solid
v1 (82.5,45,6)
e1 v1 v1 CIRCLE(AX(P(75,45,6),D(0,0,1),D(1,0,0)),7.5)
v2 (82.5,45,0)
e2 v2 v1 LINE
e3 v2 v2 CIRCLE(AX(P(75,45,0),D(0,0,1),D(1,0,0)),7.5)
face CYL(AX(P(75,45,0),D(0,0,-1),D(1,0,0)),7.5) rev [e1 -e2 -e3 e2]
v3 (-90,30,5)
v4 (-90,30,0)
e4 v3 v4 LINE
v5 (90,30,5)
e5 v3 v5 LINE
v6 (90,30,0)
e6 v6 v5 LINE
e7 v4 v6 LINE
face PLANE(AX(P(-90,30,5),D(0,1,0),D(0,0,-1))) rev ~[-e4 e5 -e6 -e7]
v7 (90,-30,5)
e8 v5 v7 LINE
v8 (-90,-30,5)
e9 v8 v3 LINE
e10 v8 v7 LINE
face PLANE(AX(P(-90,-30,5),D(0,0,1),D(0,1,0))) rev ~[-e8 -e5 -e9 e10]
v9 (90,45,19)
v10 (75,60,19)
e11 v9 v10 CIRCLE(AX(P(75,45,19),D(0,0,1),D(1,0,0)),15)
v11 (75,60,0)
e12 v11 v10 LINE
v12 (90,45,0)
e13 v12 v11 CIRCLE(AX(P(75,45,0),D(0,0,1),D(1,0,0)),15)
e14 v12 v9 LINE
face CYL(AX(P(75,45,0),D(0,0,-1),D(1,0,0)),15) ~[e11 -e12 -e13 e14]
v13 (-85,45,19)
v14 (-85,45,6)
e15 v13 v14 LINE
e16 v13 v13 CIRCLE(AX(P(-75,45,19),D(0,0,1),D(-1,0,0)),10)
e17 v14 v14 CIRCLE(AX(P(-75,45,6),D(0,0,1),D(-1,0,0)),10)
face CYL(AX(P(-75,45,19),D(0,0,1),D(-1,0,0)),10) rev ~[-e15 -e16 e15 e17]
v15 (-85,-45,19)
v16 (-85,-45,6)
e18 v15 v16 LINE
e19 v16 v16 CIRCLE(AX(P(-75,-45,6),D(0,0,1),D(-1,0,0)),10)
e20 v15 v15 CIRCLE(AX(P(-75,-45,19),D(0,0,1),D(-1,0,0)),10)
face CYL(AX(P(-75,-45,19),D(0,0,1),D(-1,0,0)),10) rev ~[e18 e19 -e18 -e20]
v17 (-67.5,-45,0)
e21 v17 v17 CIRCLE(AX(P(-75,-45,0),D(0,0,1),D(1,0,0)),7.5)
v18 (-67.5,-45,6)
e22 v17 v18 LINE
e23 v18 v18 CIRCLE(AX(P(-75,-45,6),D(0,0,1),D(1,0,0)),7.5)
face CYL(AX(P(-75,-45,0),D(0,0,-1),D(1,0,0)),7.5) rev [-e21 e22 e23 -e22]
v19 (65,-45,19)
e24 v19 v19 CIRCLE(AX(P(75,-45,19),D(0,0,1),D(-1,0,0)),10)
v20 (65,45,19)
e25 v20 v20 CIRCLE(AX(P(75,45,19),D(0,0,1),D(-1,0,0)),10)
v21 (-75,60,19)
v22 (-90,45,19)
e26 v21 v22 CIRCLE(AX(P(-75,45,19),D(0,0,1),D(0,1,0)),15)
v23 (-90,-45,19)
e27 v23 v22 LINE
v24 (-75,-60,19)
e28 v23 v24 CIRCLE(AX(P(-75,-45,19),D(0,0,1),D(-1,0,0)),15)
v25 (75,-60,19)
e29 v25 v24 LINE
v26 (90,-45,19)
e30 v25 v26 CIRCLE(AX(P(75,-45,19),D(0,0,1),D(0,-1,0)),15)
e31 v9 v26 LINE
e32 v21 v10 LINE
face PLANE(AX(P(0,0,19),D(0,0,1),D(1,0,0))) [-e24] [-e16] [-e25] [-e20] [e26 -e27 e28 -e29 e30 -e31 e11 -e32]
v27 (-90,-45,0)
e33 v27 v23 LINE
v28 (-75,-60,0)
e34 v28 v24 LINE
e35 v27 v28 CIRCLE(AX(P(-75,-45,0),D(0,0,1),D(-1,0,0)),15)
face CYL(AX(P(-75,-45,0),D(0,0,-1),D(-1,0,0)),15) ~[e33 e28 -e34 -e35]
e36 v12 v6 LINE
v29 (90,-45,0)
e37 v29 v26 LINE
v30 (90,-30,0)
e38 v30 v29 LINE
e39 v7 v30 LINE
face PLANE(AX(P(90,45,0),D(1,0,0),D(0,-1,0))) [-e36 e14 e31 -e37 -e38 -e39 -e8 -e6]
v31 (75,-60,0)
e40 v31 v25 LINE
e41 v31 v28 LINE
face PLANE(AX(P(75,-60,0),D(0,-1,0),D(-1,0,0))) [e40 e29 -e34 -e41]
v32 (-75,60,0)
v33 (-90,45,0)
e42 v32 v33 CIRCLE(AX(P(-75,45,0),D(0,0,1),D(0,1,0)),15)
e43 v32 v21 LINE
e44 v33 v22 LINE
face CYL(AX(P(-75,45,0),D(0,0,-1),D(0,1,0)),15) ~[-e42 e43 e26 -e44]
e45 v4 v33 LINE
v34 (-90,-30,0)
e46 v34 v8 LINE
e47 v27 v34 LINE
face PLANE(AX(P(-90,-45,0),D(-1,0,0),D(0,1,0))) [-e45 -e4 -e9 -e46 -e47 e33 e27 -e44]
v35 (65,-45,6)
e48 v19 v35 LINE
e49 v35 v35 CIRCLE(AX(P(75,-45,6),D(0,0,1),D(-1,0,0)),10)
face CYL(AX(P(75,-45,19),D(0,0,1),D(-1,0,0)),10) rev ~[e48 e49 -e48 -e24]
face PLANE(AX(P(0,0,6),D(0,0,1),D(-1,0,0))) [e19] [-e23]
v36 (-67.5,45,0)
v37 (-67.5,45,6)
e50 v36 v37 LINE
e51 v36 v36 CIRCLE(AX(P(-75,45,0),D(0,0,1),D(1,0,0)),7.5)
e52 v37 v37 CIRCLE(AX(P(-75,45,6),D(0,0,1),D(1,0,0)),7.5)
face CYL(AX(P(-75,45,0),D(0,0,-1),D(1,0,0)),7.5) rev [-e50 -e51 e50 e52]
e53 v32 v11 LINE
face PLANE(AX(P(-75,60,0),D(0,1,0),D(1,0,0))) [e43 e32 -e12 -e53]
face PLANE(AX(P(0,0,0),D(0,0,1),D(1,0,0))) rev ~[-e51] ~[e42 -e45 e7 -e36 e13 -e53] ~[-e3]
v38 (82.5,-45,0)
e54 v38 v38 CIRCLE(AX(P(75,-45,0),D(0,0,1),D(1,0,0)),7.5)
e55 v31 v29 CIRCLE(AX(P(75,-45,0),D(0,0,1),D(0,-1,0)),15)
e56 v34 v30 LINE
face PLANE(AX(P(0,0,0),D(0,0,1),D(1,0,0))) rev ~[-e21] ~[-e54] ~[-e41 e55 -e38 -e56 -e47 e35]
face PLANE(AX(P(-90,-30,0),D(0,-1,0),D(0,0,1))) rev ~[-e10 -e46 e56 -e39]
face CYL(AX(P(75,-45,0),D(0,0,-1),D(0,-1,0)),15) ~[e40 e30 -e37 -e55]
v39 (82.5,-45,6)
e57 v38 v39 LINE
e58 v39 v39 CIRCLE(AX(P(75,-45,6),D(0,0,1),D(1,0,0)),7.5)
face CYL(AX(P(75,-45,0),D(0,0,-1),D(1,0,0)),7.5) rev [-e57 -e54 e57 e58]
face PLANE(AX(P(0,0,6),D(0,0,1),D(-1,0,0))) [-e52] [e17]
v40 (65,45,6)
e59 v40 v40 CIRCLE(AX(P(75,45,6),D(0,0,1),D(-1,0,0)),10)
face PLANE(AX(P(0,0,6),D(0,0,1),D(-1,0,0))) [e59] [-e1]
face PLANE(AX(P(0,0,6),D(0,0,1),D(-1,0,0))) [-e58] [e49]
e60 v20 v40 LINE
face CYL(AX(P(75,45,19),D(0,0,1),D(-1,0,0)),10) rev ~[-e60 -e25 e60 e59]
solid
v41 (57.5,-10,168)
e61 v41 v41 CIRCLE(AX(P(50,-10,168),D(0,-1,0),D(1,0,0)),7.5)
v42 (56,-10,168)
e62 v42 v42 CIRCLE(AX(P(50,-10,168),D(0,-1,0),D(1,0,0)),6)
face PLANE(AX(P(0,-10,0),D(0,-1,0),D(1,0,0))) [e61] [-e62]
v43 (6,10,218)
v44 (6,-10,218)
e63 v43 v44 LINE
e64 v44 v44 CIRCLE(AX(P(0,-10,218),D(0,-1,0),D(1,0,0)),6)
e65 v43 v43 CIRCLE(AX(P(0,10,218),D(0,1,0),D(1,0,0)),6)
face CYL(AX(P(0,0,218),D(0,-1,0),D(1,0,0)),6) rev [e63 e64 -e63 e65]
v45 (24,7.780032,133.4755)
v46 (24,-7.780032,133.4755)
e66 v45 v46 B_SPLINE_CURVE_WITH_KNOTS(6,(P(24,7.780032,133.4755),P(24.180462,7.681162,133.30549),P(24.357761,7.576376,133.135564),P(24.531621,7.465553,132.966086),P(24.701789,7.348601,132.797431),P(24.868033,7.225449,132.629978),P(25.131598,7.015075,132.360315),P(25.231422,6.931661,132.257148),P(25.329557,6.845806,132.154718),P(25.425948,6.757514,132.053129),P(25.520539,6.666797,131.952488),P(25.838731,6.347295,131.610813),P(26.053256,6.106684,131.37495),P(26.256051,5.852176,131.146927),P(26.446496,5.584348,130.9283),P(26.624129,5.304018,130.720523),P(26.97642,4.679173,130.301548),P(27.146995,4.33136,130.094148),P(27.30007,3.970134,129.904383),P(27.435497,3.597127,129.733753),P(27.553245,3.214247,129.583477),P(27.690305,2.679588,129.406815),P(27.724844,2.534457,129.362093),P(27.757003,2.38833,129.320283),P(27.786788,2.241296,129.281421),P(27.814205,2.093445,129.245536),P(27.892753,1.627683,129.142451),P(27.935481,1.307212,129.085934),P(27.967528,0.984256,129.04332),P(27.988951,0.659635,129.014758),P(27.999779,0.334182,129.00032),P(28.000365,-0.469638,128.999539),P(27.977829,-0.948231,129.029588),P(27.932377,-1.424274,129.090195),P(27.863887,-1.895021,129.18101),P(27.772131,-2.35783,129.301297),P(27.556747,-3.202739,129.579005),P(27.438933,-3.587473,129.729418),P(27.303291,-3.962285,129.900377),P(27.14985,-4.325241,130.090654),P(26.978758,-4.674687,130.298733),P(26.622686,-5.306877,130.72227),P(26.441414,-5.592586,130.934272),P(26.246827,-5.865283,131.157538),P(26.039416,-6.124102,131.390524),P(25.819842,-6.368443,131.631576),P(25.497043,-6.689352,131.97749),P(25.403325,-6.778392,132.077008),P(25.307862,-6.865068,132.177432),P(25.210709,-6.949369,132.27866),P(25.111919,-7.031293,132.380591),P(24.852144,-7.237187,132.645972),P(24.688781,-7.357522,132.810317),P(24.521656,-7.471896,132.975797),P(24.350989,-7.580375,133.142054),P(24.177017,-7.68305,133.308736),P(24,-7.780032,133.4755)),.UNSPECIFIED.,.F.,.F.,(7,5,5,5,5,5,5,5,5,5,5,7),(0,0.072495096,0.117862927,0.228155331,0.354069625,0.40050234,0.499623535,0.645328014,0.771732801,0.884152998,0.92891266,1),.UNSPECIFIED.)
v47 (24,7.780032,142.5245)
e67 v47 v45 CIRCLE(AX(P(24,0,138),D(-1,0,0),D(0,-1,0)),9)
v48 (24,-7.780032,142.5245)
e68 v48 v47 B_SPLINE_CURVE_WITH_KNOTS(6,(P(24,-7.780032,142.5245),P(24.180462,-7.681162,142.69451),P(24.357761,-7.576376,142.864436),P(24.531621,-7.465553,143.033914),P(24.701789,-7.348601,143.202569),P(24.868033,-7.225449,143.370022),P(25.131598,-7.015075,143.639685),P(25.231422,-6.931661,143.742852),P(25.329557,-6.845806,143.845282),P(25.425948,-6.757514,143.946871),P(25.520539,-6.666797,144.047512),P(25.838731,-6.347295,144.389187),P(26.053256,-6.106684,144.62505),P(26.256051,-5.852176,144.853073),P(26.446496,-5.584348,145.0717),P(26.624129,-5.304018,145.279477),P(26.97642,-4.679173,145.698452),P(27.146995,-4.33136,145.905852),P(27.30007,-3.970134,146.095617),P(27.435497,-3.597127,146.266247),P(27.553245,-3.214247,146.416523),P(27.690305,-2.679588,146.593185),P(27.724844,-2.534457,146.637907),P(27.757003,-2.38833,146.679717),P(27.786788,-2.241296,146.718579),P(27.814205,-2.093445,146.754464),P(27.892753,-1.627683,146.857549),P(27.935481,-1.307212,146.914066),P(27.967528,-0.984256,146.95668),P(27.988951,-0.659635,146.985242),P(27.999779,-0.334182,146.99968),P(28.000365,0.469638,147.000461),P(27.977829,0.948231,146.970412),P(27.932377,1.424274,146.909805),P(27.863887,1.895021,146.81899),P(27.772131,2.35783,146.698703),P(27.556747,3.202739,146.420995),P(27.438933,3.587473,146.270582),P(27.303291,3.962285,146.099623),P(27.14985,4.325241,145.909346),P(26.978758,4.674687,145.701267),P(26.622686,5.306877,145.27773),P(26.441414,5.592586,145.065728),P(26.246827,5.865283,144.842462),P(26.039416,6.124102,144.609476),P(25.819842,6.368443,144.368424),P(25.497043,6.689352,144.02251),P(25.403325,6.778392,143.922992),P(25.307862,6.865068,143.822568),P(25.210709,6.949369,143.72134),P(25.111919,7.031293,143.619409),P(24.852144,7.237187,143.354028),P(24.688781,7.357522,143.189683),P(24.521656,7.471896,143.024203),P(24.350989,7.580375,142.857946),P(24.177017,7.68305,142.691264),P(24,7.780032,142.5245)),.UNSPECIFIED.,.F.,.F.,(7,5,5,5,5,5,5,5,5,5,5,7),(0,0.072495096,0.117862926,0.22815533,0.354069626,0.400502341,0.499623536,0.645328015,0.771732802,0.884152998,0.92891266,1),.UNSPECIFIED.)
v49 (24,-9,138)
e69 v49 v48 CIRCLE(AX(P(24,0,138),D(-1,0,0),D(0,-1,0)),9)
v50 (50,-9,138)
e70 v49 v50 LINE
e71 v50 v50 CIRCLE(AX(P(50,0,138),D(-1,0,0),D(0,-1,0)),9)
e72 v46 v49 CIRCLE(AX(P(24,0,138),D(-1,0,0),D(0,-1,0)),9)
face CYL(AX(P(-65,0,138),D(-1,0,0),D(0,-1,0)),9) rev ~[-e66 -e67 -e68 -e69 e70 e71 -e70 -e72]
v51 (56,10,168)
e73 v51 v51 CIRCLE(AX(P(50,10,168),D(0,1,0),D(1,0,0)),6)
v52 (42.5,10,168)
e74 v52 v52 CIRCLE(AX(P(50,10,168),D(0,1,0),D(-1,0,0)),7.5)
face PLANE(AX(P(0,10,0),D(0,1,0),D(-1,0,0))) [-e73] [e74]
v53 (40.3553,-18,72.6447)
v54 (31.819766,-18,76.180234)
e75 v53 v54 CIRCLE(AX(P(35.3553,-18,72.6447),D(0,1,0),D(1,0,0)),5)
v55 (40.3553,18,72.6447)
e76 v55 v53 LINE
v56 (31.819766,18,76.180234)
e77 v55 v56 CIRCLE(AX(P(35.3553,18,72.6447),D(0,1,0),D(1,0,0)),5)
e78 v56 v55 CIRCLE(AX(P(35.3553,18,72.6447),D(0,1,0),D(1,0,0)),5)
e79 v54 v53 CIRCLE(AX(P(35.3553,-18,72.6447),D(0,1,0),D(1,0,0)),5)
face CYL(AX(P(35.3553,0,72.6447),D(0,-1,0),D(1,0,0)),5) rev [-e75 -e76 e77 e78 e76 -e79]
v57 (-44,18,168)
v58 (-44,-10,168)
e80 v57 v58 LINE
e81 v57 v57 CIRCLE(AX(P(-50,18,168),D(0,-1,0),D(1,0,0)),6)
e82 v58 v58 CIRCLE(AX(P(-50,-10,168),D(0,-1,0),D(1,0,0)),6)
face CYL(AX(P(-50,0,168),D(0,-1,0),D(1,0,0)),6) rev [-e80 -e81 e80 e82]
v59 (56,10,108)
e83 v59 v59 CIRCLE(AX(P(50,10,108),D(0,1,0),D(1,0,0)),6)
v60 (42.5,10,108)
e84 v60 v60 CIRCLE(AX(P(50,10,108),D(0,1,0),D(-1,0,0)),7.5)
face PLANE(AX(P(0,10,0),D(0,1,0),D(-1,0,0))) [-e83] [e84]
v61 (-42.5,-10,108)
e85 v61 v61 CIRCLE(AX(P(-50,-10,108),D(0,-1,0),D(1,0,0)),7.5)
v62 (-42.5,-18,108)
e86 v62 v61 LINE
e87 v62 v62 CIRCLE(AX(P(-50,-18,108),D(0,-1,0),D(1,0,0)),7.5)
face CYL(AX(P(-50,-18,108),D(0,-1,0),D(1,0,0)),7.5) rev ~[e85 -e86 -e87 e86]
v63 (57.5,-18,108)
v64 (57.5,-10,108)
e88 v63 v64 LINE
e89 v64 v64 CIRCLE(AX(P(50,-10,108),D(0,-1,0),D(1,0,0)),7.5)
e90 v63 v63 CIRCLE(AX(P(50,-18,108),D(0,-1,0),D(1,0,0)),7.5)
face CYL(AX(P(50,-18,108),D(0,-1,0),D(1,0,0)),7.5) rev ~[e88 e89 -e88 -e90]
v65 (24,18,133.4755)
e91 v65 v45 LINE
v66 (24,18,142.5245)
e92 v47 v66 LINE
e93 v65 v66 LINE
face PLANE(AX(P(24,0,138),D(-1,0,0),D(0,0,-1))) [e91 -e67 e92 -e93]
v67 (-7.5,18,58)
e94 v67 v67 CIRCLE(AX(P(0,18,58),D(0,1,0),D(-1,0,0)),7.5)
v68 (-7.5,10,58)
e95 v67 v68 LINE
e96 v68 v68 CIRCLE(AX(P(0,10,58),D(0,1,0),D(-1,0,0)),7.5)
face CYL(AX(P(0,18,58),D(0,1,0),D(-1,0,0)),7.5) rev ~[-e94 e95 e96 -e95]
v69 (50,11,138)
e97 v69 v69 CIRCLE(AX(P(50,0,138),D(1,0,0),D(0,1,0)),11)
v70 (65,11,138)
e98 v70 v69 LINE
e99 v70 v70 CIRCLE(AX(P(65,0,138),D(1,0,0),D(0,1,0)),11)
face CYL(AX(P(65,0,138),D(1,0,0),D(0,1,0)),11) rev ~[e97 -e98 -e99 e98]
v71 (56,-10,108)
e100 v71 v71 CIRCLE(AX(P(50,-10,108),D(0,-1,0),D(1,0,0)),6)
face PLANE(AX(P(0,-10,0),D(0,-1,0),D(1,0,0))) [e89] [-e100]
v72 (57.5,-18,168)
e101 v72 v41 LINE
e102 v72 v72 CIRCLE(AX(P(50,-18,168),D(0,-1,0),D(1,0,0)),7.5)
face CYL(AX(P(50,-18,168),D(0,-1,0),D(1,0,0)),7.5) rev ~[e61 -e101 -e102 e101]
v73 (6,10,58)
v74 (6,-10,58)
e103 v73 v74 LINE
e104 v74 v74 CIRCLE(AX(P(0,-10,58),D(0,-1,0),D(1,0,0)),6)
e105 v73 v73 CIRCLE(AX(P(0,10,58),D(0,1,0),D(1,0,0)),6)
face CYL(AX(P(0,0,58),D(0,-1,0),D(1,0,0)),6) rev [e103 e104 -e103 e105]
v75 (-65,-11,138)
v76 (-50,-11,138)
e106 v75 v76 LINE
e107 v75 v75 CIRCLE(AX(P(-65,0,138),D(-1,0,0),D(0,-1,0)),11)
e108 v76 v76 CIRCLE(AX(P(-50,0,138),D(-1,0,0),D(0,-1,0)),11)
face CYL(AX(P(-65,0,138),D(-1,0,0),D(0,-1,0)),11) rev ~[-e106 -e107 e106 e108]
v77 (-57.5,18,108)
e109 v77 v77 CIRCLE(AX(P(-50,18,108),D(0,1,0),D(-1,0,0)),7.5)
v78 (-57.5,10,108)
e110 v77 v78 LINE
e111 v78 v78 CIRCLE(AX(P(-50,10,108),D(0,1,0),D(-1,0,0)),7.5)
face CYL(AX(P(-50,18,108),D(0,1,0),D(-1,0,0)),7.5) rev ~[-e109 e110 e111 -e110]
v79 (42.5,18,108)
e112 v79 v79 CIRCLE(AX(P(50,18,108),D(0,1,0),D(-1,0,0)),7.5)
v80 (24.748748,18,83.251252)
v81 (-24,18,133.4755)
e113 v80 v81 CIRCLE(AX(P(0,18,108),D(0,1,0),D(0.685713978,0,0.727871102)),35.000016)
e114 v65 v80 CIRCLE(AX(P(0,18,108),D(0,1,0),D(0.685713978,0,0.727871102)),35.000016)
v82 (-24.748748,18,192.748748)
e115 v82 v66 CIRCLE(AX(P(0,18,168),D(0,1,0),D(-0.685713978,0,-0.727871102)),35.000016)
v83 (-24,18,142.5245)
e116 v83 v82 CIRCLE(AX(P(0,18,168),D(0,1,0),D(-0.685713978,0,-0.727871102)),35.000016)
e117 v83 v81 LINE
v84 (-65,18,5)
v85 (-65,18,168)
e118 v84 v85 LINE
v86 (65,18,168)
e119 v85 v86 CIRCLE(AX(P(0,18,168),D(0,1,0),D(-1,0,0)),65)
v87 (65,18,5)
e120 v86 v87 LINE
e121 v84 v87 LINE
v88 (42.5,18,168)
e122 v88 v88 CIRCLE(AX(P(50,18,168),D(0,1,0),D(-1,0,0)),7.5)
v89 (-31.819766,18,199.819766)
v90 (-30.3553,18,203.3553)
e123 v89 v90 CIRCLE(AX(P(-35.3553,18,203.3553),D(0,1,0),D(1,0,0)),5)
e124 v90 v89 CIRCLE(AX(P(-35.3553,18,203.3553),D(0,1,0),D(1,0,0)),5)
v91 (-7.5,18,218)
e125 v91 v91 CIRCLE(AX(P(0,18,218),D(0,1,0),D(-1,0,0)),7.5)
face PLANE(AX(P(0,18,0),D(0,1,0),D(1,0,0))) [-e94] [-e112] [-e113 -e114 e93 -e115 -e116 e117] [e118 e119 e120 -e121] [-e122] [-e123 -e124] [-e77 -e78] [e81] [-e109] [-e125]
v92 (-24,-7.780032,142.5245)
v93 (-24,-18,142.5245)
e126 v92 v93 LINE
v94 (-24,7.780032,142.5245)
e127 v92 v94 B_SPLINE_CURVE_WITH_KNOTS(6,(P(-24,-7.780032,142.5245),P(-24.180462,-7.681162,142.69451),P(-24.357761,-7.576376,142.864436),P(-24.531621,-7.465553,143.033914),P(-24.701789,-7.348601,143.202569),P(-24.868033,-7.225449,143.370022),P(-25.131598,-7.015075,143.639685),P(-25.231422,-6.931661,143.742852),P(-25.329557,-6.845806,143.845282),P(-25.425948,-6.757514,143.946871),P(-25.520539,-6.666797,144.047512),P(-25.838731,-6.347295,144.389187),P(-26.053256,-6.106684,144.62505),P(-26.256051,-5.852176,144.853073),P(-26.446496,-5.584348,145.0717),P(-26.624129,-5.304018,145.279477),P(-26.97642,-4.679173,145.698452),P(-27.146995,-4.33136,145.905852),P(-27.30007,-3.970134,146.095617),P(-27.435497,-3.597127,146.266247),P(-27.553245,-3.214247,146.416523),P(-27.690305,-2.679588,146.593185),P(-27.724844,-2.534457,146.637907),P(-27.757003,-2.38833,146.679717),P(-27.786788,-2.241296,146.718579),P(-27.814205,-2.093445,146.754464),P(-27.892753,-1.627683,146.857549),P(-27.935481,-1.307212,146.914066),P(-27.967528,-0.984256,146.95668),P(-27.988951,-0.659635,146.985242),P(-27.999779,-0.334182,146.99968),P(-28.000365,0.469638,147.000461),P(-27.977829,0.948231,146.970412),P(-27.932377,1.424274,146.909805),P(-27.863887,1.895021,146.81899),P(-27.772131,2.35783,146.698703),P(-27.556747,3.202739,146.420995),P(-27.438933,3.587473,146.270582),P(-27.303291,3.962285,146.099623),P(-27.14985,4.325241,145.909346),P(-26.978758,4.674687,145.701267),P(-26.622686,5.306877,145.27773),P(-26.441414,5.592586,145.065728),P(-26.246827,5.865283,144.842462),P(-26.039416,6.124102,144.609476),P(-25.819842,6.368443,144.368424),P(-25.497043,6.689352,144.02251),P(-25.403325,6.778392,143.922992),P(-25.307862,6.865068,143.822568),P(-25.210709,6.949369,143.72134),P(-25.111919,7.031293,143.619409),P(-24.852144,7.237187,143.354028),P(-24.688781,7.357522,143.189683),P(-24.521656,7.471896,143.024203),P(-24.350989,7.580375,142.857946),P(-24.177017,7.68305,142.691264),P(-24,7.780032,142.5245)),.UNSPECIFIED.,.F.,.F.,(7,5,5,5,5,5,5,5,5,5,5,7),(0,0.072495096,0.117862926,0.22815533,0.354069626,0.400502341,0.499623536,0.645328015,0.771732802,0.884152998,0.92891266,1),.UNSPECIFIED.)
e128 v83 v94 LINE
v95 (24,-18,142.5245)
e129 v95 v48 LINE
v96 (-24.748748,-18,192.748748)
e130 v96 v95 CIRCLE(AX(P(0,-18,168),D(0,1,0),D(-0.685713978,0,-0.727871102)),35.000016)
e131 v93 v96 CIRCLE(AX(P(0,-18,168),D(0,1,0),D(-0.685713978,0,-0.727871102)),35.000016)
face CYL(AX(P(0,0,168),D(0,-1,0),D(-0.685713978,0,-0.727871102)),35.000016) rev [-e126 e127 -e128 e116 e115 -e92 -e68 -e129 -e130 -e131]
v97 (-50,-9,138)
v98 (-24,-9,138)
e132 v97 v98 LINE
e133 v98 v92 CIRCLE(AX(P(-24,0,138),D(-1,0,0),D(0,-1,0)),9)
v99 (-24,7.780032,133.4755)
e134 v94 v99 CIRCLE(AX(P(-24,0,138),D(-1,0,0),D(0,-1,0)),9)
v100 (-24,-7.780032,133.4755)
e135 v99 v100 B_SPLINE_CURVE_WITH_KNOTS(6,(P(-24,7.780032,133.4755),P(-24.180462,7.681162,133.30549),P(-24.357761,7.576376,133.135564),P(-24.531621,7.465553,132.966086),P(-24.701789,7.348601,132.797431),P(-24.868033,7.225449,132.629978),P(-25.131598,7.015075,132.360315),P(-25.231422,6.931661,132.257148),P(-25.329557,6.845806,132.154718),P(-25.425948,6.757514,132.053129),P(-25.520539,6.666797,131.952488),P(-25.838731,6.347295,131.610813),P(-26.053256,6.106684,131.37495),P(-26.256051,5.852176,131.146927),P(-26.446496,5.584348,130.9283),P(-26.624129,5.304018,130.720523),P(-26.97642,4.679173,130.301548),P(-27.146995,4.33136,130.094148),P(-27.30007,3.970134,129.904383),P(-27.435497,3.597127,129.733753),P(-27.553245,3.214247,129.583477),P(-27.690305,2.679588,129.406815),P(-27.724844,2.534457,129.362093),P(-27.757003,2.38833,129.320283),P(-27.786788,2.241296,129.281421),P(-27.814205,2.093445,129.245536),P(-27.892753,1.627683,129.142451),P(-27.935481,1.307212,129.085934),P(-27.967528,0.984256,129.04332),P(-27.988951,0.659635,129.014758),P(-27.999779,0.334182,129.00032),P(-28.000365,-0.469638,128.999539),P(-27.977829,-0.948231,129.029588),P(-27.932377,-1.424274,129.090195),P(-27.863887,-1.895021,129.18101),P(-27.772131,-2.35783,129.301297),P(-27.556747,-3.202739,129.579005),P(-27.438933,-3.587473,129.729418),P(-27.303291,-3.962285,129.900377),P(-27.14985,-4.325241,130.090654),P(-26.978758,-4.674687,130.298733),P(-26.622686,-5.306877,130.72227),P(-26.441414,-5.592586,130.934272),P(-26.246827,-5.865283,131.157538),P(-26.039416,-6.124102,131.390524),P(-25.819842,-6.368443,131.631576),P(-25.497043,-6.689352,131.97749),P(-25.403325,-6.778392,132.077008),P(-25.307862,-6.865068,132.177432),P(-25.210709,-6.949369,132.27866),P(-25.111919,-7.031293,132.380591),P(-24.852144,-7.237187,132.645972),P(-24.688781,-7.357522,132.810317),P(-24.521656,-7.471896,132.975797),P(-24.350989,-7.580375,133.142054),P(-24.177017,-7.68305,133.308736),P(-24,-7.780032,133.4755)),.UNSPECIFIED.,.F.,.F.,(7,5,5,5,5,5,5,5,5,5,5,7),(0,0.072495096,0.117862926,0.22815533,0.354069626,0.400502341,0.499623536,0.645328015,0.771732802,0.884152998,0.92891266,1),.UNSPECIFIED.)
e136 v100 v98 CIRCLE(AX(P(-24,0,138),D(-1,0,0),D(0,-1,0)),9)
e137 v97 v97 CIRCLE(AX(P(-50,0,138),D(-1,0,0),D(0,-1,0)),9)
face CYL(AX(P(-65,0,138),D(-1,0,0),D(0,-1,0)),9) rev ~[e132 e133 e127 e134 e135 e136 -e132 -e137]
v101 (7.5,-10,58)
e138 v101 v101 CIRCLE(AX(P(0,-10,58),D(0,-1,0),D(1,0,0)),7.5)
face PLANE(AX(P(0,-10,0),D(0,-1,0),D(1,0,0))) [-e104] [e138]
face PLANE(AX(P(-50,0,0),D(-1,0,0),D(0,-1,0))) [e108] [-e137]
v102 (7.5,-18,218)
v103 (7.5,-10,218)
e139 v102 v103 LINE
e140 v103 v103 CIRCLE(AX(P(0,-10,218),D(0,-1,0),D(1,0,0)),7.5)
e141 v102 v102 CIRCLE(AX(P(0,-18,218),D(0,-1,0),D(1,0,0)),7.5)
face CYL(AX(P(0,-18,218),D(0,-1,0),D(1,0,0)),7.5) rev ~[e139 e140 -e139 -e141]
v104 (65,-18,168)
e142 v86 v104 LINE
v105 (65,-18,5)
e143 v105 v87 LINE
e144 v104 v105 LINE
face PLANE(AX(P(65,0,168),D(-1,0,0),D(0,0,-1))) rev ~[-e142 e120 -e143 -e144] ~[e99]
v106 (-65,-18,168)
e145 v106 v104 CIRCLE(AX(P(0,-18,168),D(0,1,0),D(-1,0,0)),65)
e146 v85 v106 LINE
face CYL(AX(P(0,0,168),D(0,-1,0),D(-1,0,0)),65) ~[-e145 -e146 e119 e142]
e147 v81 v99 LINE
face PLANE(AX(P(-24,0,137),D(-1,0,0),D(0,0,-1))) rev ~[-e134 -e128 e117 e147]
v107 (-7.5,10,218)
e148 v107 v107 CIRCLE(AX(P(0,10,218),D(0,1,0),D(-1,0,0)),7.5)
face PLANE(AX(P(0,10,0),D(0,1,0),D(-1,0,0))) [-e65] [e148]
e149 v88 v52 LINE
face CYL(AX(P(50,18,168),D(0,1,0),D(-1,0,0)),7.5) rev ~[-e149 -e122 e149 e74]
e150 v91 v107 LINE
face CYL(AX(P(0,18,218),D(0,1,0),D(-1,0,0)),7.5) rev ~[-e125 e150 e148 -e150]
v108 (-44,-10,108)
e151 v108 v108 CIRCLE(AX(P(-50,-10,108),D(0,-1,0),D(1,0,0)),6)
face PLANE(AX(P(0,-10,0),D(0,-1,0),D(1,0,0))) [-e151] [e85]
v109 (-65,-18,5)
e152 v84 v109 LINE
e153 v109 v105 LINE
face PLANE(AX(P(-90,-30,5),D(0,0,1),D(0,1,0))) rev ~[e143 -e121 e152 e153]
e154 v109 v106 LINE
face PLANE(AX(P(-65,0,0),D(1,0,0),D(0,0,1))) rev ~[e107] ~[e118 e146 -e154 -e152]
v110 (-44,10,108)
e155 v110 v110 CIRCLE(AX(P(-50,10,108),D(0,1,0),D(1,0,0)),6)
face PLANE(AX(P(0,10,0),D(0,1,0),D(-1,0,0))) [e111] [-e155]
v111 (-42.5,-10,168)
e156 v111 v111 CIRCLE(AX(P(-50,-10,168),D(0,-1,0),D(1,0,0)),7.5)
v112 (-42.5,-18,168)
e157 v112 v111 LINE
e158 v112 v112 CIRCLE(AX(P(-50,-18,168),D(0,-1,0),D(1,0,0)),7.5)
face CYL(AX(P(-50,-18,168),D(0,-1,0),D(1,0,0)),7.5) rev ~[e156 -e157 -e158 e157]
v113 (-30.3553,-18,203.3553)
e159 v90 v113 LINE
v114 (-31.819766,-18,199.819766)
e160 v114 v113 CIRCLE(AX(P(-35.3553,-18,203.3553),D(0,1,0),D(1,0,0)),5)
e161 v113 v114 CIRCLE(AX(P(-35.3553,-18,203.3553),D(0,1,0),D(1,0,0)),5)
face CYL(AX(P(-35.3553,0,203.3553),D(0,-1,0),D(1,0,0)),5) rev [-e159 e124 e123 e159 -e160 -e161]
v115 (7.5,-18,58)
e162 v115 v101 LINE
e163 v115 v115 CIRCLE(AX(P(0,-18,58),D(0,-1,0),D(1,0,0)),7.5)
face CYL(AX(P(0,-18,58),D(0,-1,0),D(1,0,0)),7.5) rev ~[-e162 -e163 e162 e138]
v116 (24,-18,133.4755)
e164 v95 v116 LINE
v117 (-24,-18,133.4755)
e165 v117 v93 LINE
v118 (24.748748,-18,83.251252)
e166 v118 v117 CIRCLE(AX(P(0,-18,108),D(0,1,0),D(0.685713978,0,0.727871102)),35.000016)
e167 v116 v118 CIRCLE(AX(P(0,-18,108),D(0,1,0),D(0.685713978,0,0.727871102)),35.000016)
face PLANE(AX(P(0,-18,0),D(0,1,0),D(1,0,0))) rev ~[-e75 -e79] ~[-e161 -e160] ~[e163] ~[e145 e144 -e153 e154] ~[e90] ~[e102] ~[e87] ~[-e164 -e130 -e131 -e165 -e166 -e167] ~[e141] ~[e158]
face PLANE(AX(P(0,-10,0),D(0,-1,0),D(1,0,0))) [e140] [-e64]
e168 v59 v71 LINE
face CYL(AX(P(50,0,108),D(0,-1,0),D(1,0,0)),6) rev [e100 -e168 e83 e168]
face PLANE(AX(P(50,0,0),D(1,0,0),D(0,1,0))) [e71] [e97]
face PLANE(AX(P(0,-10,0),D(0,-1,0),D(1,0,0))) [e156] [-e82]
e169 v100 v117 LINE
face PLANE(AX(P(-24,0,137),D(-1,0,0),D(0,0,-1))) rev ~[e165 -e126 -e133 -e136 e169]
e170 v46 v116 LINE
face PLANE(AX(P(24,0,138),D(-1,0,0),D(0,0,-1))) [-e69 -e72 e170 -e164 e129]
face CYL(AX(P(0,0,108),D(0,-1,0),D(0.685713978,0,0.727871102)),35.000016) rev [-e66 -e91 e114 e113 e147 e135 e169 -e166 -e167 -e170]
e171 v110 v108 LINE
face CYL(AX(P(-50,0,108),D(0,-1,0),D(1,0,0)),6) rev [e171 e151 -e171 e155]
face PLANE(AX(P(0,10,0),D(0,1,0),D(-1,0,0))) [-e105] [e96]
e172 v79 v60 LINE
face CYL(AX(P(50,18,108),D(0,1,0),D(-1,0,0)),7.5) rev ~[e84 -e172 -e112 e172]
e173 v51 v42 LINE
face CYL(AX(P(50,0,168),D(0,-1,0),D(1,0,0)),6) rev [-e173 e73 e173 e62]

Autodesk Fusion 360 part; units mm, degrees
sketch "Sketch1" plane through (0, 0, 0) normal (0, 0, 1) x (1, 0, 0)
  line L0 (-75, 60) -> (75, 60)
  line L1 (90, 45) -> (90, -45)
  line L2 (75, -60) -> (-75, -60)
  line L3 (-90, -45) -> (-90, 45)
  line L4 (90, 0) -> (-90, 0) construction
  arc A0 (-75, 60) -> (-90, 45) centre (-75, 45) ccw
  arc A1 (90, 45) -> (75, 60) centre (75, 45) ccw
  arc A2 (75, -60) -> (90, -45) centre (75, -45) ccw
  arc A3 (-90, -45) -> (-75, -60) centre (-75, -45) ccw
  line L5 (0, -60) -> (0, 60) construction
  circle A4 centre (-75, 45) radius 7.5
  circle A5 centre (-75, -45) radius 7.5
  circle A6 centre (75, 45) radius 7.5
  circle A7 centre (75, -45) radius 7.5
  point P0 (-90, 60)
  point P1 (90, 60)
  point P2 (-90, -60)
  dimension "d1" = 180
  dimension "d2" = 120
  dimension "d5" = 15
  dimension "d6" = 15
  dimension "d7" = 15
  dimension "d8" = 15
  dimension "d9" = 60
  dimension "d10" = 15
  dimension "d11" = 15
  dimension "d12" = 15
  dimension "d13" = 15
extrude "Extrude1" add sketch "Sketch1" along normal blind 19 makes body 1
sketch "Sketch2" plane through (0, 0, 19) normal (0, 0, 1) x (-1, 0, 0)
  circle A0 centre (75, 45) radius 7.5
  circle A1 centre (-75, -45) radius 7.5
  circle A2 centre (-75, 45) radius 7.5
  circle A3 centre (75, -45) radius 7.5
  arc A4 (75, -60) -> (90, -45) centre (75, -45) ccw
  line L0 (90, -45) -> (90, 45)
  arc A5 (90, 45) -> (75, 60) centre (75, 45) ccw
  line L1 (75, 60) -> (-75, 60)
  arc A6 (-75, 60) -> (-90, 45) centre (-75, 45) ccw
  line L2 (-90, 45) -> (-90, -45)
  arc A7 (-90, -45) -> (-75, -60) centre (-75, -45) ccw
  line L3 (-75, -60) -> (75, -60)
  circle A8 centre (75, -45) radius 10
  circle A9 centre (75, 45) radius 10
  circle A10 centre (-75, -45) radius 10
  circle A11 centre (-75, 45) radius 10
  dimension "d16" = 20
  dimension "d17" = 20
  dimension "d18" = 20
  dimension "d19" = 20
extrude "Extrude2" cut sketch "Sketch2" against normal blind 13 contours A8 | A9 | A10 | A11 bodies 1
sketch "Sketch3" plane through (-90, 0, 0) normal (-1, 0, 0) x (0, -1, 0)
  line L0 (-45, 0) -> (45, 0)
  line L1 (45, 0) -> (45, 19)
  line L2 (45, 19) -> (-45, 19)
  line L3 (-45, 19) -> (-45, 0)
  line L4 (30, 5) -> (-30, 5)
  line L5 (-30, 5) -> (-30, -5)
  line L6 (-30, -5) -> (30, -5)
  line L7 (30, -5) -> (30, 5)
  line L8 (30, 5) -> (-30, -5) construction
  line L9 (-30, 5) -> (30, -5) construction
  dimension "d28" = 60
  dimension "d29" = 10
extrude "Extrude3" cut sketch "Sketch3" against normal blind 1000 contours L0 L4 L5 L7 bodies 1
sketch "Sketch4" plane through (0, 0, 0) normal (0, 1, 0) x (1, 0, 0)
  line L0 (0, 0) -> (-65, 0)
  line L1 (-65, 0) -> (-65, -168)
  line L2 (-65, -168) -> (0, -168) construction
  line L3 (0, -168) -> (65, -168) construction
  line L4 (65, 0) -> (0, 0)
  line L5 (65, -168) -> (65, 0)
  arc A0 (-65, -168) -> (65, -168) centre (0, -168) ccw
  line L6 (0, -168) -> (0, -108) construction
  line L7 (0, -108) -> (0, -138)
  line L8 (0, -138) -> (24, -138) construction
  line L9 (0, -138) -> (-24, -138) construction
  line L10 (24, -138) -> (24, -142.5245)
  line L11 (24, -138) -> (24, -133.4755)
  line L12 (-24, -138) -> (-24, -137)
  line L13 (-24, -137) -> (-24, -133.4755)
  line L14 (-24, -138) -> (-24, -142.5245)
  arc A1 (24, -133.4755) -> (-24, -133.4755) centre (0, -108) ccw
  arc A2 (-24, -142.5245) -> (24, -142.5245) centre (0, -168) ccw
  line L15 (65, -142.5245) -> (-65, -142.5245) construction
  arc A3 (-43.0232, -142.5245) -> (43.0232, -142.5245) centre (0, -168) ccw construction
  line L16 (65, -133.4755) -> (-65, -133.4755) construction
  arc A4 (43.0232, -133.4755) -> (-43.0232, -133.4755) centre (0, -108) ccw construction
  circle A5 centre (50, -168) radius 6
  circle A6 centre (0, -218) radius 6
  circle A7 centre (-50, -168) radius 6
  circle A8 centre (-50, -108) radius 6
  circle A9 centre (0, -58) radius 6
  circle A10 centre (50, -108) radius 6
  line L17 (0, -168) -> (-35.3553, -203.3553)
  line L18 (0, -168) -> (-50, -168) construction
  circle A11 centre (-35.3553, -203.3553) radius 5
  circle A12 centre (35.3553, -72.6447) radius 5
  line L19 (0, -108) -> (35.3553, -72.6447)
  line L20 (0, -108) -> (50, -108) construction
  dimension "d32" = 65
  dimension "d34" = 130
  dimension "d35" = 168
  dimension "d37" = 168
  dimension "d38" = 60
  dimension "d39" = 70
  dimension "d40" = 70
  dimension "d41" = 24
  dimension "d42" = 24
  dimension "d46" = 12
  dimension "d48" = -180
  dimension "d49" = 50
  dimension "d51" = 45
  dimension "d52" = 50
  dimension "d53" = 10
  dimension "d54" = 45
  dimension "d55" = 10
  dimension "d56" = 50
extrude "Extrude4" add sketch "Sketch4" along normal mid plane 36 separate body makes body 2
sketch "Sketch5" plane through (0, 18, 0) normal (0, 1, 0) x (-1, 0, 0)
  circle A0 centre (35.3553, 203.3553) radius 5
  circle A1 centre (-50, 168) radius 6
  line L0 (24, 142.5245) -> (24, 133.4755)
  arc A2 (-24, 133.4755) -> (24, 133.4755) centre (0, 108) ccw
  line L1 (-24, 133.4755) -> (-24, 142.5245)
  arc A3 (24, 142.5245) -> (-24, 142.5245) centre (0, 168) ccw
  circle A4 centre (50, 108) radius 6
  circle A5 centre (-50, 108) radius 6
  circle A6 centre (0, 58) radius 6
  circle A7 centre (0, 218) radius 6
  circle A8 centre (50, 168) radius 6
  circle A9 centre (-35.3553, 72.6447) radius 5
  arc A10 (65, 168) -> (-65, 168) centre (0, 168) ccw
  line L2 (-65, 168) -> (-65, 0)
  line L3 (-65, 0) -> (65, 0)
  line L4 (65, 0) -> (65, 168)
  circle A11 centre (-50, 108) radius 7.5
  circle A12 centre (50, 108) radius 7.5
  circle A13 centre (0, 58) radius 7.5
  circle A14 centre (50, 168) radius 7.5
  circle A15 centre (-50, 168) radius 7.5
  circle A16 centre (0, 218) radius 7.5
  dimension "d59" = 15
  dimension "d60" = 15
  dimension "d61" = 15
  dimension "d62" = 15
  dimension "d63" = 15
  dimension "d64" = 15
extrude "Extrude5" cut sketch "Sketch5" against normal blind 8 contours A8 | A11 | A12 | A13 | A15 | A16 bodies 2
sketch "Sketch6" plane through (0, -18, 0) normal (0, -1, 0) x (1, 0, 0)
  circle A0 centre (-35.3553, 203.3553) radius 5
  circle A1 centre (50, 168) radius 6
  line L0 (-24, 133.4755) -> (-24, 142.5245)
  arc A2 (24, 142.5245) -> (-24, 142.5245) centre (0, 168) ccw
  line L1 (24, 142.5245) -> (24, 133.4755)
  arc A3 (-24, 133.4755) -> (24, 133.4755) centre (0, 108) ccw
  circle A4 centre (-50, 108) radius 6
  circle A5 centre (50, 108) radius 6
  circle A6 centre (0, 58) radius 6
  circle A7 centre (0, 218) radius 6
  circle A8 centre (-50, 168) radius 6
  circle A9 centre (35.3553, 72.6447) radius 5
  arc A10 (65, 168) -> (-65, 168) centre (0, 168) ccw
  line L2 (-65, 168) -> (-65, 0)
  line L3 (-65, 0) -> (65, 0)
  line L4 (65, 0) -> (65, 168)
  circle A11 centre (0, 58) radius 7.5
  circle A12 centre (50, 108) radius 7.5
  circle A13 centre (-50, 108) radius 7.5
  circle A14 centre (-50, 168) radius 7.5
  circle A15 centre (50, 168) radius 7.5
  circle A16 centre (0, 218) radius 7.5
  dimension "d67" = 15
  dimension "d68" = 15
  dimension "d69" = 15
  dimension "d70" = 15
  dimension "d71" = 15
  dimension "d72" = 15
extrude "Extrude6" cut sketch "Sketch6" against normal blind 8 contours A11 | A12 | A13 | A14 | A15 | A16 bodies 2
sketch "Sketch7" plane through (-65, 0, 0) normal (-1, 0, 0) x (0, -1, 0)
  line L0 (18, 168) -> (-18, 168)
  line L1 (-18, 168) -> (-18, 0)
  line L2 (-18, 0) -> (18, 0)
  line L3 (18, 0) -> (18, 168)
  line L4 (18, 0) -> (18, 138) construction
  line L5 (18, 138) -> (-18, 138) construction
  circle A0 centre (0, 138) radius 9
  dimension "d75" = 138
  dimension "d76" = 18
extrude "Extrude7" cut sketch "Sketch7" against normal blind 160 contours A0 bodies 2
sketch "Sketch8" plane through (-65, 0, 0) normal (-1, 0, 0) x (0, -1, 0)
  circle A0 centre (0, 138) radius 9
  line L0 (18, 168) -> (-18, 168)
  line L1 (-18, 168) -> (-18, 0)
  line L2 (-18, 0) -> (18, 0)
  line L3 (18, 0) -> (18, 168)
  circle A1 centre (0, 138) radius 11
  dimension "d79" = 22
extrude "Extrude8" cut sketch "Sketch8" against normal blind 15 contours A1 bodies 2
sketch "Sketch9" plane through (65, 0, 0) normal (1, 0, 0) x (0, 1, 0)
  circle A0 centre (0, 138) radius 9
  line L0 (-18, 0) -> (18, 0)
  line L1 (18, 0) -> (18, 168)
  line L2 (18, 168) -> (-18, 168)
  line L3 (-18, 168) -> (-18, 0)
  circle A1 centre (0, 138) radius 11
  dimension "d82" = 22
extrude "Extrude9" cut sketch "Sketch9" against normal blind 15 contours A1 bodies 2
extrude "Extrude10" cut sketch "Sketch3" against normal blind 200 contours L0 L4 L5 L7 bodies 2
